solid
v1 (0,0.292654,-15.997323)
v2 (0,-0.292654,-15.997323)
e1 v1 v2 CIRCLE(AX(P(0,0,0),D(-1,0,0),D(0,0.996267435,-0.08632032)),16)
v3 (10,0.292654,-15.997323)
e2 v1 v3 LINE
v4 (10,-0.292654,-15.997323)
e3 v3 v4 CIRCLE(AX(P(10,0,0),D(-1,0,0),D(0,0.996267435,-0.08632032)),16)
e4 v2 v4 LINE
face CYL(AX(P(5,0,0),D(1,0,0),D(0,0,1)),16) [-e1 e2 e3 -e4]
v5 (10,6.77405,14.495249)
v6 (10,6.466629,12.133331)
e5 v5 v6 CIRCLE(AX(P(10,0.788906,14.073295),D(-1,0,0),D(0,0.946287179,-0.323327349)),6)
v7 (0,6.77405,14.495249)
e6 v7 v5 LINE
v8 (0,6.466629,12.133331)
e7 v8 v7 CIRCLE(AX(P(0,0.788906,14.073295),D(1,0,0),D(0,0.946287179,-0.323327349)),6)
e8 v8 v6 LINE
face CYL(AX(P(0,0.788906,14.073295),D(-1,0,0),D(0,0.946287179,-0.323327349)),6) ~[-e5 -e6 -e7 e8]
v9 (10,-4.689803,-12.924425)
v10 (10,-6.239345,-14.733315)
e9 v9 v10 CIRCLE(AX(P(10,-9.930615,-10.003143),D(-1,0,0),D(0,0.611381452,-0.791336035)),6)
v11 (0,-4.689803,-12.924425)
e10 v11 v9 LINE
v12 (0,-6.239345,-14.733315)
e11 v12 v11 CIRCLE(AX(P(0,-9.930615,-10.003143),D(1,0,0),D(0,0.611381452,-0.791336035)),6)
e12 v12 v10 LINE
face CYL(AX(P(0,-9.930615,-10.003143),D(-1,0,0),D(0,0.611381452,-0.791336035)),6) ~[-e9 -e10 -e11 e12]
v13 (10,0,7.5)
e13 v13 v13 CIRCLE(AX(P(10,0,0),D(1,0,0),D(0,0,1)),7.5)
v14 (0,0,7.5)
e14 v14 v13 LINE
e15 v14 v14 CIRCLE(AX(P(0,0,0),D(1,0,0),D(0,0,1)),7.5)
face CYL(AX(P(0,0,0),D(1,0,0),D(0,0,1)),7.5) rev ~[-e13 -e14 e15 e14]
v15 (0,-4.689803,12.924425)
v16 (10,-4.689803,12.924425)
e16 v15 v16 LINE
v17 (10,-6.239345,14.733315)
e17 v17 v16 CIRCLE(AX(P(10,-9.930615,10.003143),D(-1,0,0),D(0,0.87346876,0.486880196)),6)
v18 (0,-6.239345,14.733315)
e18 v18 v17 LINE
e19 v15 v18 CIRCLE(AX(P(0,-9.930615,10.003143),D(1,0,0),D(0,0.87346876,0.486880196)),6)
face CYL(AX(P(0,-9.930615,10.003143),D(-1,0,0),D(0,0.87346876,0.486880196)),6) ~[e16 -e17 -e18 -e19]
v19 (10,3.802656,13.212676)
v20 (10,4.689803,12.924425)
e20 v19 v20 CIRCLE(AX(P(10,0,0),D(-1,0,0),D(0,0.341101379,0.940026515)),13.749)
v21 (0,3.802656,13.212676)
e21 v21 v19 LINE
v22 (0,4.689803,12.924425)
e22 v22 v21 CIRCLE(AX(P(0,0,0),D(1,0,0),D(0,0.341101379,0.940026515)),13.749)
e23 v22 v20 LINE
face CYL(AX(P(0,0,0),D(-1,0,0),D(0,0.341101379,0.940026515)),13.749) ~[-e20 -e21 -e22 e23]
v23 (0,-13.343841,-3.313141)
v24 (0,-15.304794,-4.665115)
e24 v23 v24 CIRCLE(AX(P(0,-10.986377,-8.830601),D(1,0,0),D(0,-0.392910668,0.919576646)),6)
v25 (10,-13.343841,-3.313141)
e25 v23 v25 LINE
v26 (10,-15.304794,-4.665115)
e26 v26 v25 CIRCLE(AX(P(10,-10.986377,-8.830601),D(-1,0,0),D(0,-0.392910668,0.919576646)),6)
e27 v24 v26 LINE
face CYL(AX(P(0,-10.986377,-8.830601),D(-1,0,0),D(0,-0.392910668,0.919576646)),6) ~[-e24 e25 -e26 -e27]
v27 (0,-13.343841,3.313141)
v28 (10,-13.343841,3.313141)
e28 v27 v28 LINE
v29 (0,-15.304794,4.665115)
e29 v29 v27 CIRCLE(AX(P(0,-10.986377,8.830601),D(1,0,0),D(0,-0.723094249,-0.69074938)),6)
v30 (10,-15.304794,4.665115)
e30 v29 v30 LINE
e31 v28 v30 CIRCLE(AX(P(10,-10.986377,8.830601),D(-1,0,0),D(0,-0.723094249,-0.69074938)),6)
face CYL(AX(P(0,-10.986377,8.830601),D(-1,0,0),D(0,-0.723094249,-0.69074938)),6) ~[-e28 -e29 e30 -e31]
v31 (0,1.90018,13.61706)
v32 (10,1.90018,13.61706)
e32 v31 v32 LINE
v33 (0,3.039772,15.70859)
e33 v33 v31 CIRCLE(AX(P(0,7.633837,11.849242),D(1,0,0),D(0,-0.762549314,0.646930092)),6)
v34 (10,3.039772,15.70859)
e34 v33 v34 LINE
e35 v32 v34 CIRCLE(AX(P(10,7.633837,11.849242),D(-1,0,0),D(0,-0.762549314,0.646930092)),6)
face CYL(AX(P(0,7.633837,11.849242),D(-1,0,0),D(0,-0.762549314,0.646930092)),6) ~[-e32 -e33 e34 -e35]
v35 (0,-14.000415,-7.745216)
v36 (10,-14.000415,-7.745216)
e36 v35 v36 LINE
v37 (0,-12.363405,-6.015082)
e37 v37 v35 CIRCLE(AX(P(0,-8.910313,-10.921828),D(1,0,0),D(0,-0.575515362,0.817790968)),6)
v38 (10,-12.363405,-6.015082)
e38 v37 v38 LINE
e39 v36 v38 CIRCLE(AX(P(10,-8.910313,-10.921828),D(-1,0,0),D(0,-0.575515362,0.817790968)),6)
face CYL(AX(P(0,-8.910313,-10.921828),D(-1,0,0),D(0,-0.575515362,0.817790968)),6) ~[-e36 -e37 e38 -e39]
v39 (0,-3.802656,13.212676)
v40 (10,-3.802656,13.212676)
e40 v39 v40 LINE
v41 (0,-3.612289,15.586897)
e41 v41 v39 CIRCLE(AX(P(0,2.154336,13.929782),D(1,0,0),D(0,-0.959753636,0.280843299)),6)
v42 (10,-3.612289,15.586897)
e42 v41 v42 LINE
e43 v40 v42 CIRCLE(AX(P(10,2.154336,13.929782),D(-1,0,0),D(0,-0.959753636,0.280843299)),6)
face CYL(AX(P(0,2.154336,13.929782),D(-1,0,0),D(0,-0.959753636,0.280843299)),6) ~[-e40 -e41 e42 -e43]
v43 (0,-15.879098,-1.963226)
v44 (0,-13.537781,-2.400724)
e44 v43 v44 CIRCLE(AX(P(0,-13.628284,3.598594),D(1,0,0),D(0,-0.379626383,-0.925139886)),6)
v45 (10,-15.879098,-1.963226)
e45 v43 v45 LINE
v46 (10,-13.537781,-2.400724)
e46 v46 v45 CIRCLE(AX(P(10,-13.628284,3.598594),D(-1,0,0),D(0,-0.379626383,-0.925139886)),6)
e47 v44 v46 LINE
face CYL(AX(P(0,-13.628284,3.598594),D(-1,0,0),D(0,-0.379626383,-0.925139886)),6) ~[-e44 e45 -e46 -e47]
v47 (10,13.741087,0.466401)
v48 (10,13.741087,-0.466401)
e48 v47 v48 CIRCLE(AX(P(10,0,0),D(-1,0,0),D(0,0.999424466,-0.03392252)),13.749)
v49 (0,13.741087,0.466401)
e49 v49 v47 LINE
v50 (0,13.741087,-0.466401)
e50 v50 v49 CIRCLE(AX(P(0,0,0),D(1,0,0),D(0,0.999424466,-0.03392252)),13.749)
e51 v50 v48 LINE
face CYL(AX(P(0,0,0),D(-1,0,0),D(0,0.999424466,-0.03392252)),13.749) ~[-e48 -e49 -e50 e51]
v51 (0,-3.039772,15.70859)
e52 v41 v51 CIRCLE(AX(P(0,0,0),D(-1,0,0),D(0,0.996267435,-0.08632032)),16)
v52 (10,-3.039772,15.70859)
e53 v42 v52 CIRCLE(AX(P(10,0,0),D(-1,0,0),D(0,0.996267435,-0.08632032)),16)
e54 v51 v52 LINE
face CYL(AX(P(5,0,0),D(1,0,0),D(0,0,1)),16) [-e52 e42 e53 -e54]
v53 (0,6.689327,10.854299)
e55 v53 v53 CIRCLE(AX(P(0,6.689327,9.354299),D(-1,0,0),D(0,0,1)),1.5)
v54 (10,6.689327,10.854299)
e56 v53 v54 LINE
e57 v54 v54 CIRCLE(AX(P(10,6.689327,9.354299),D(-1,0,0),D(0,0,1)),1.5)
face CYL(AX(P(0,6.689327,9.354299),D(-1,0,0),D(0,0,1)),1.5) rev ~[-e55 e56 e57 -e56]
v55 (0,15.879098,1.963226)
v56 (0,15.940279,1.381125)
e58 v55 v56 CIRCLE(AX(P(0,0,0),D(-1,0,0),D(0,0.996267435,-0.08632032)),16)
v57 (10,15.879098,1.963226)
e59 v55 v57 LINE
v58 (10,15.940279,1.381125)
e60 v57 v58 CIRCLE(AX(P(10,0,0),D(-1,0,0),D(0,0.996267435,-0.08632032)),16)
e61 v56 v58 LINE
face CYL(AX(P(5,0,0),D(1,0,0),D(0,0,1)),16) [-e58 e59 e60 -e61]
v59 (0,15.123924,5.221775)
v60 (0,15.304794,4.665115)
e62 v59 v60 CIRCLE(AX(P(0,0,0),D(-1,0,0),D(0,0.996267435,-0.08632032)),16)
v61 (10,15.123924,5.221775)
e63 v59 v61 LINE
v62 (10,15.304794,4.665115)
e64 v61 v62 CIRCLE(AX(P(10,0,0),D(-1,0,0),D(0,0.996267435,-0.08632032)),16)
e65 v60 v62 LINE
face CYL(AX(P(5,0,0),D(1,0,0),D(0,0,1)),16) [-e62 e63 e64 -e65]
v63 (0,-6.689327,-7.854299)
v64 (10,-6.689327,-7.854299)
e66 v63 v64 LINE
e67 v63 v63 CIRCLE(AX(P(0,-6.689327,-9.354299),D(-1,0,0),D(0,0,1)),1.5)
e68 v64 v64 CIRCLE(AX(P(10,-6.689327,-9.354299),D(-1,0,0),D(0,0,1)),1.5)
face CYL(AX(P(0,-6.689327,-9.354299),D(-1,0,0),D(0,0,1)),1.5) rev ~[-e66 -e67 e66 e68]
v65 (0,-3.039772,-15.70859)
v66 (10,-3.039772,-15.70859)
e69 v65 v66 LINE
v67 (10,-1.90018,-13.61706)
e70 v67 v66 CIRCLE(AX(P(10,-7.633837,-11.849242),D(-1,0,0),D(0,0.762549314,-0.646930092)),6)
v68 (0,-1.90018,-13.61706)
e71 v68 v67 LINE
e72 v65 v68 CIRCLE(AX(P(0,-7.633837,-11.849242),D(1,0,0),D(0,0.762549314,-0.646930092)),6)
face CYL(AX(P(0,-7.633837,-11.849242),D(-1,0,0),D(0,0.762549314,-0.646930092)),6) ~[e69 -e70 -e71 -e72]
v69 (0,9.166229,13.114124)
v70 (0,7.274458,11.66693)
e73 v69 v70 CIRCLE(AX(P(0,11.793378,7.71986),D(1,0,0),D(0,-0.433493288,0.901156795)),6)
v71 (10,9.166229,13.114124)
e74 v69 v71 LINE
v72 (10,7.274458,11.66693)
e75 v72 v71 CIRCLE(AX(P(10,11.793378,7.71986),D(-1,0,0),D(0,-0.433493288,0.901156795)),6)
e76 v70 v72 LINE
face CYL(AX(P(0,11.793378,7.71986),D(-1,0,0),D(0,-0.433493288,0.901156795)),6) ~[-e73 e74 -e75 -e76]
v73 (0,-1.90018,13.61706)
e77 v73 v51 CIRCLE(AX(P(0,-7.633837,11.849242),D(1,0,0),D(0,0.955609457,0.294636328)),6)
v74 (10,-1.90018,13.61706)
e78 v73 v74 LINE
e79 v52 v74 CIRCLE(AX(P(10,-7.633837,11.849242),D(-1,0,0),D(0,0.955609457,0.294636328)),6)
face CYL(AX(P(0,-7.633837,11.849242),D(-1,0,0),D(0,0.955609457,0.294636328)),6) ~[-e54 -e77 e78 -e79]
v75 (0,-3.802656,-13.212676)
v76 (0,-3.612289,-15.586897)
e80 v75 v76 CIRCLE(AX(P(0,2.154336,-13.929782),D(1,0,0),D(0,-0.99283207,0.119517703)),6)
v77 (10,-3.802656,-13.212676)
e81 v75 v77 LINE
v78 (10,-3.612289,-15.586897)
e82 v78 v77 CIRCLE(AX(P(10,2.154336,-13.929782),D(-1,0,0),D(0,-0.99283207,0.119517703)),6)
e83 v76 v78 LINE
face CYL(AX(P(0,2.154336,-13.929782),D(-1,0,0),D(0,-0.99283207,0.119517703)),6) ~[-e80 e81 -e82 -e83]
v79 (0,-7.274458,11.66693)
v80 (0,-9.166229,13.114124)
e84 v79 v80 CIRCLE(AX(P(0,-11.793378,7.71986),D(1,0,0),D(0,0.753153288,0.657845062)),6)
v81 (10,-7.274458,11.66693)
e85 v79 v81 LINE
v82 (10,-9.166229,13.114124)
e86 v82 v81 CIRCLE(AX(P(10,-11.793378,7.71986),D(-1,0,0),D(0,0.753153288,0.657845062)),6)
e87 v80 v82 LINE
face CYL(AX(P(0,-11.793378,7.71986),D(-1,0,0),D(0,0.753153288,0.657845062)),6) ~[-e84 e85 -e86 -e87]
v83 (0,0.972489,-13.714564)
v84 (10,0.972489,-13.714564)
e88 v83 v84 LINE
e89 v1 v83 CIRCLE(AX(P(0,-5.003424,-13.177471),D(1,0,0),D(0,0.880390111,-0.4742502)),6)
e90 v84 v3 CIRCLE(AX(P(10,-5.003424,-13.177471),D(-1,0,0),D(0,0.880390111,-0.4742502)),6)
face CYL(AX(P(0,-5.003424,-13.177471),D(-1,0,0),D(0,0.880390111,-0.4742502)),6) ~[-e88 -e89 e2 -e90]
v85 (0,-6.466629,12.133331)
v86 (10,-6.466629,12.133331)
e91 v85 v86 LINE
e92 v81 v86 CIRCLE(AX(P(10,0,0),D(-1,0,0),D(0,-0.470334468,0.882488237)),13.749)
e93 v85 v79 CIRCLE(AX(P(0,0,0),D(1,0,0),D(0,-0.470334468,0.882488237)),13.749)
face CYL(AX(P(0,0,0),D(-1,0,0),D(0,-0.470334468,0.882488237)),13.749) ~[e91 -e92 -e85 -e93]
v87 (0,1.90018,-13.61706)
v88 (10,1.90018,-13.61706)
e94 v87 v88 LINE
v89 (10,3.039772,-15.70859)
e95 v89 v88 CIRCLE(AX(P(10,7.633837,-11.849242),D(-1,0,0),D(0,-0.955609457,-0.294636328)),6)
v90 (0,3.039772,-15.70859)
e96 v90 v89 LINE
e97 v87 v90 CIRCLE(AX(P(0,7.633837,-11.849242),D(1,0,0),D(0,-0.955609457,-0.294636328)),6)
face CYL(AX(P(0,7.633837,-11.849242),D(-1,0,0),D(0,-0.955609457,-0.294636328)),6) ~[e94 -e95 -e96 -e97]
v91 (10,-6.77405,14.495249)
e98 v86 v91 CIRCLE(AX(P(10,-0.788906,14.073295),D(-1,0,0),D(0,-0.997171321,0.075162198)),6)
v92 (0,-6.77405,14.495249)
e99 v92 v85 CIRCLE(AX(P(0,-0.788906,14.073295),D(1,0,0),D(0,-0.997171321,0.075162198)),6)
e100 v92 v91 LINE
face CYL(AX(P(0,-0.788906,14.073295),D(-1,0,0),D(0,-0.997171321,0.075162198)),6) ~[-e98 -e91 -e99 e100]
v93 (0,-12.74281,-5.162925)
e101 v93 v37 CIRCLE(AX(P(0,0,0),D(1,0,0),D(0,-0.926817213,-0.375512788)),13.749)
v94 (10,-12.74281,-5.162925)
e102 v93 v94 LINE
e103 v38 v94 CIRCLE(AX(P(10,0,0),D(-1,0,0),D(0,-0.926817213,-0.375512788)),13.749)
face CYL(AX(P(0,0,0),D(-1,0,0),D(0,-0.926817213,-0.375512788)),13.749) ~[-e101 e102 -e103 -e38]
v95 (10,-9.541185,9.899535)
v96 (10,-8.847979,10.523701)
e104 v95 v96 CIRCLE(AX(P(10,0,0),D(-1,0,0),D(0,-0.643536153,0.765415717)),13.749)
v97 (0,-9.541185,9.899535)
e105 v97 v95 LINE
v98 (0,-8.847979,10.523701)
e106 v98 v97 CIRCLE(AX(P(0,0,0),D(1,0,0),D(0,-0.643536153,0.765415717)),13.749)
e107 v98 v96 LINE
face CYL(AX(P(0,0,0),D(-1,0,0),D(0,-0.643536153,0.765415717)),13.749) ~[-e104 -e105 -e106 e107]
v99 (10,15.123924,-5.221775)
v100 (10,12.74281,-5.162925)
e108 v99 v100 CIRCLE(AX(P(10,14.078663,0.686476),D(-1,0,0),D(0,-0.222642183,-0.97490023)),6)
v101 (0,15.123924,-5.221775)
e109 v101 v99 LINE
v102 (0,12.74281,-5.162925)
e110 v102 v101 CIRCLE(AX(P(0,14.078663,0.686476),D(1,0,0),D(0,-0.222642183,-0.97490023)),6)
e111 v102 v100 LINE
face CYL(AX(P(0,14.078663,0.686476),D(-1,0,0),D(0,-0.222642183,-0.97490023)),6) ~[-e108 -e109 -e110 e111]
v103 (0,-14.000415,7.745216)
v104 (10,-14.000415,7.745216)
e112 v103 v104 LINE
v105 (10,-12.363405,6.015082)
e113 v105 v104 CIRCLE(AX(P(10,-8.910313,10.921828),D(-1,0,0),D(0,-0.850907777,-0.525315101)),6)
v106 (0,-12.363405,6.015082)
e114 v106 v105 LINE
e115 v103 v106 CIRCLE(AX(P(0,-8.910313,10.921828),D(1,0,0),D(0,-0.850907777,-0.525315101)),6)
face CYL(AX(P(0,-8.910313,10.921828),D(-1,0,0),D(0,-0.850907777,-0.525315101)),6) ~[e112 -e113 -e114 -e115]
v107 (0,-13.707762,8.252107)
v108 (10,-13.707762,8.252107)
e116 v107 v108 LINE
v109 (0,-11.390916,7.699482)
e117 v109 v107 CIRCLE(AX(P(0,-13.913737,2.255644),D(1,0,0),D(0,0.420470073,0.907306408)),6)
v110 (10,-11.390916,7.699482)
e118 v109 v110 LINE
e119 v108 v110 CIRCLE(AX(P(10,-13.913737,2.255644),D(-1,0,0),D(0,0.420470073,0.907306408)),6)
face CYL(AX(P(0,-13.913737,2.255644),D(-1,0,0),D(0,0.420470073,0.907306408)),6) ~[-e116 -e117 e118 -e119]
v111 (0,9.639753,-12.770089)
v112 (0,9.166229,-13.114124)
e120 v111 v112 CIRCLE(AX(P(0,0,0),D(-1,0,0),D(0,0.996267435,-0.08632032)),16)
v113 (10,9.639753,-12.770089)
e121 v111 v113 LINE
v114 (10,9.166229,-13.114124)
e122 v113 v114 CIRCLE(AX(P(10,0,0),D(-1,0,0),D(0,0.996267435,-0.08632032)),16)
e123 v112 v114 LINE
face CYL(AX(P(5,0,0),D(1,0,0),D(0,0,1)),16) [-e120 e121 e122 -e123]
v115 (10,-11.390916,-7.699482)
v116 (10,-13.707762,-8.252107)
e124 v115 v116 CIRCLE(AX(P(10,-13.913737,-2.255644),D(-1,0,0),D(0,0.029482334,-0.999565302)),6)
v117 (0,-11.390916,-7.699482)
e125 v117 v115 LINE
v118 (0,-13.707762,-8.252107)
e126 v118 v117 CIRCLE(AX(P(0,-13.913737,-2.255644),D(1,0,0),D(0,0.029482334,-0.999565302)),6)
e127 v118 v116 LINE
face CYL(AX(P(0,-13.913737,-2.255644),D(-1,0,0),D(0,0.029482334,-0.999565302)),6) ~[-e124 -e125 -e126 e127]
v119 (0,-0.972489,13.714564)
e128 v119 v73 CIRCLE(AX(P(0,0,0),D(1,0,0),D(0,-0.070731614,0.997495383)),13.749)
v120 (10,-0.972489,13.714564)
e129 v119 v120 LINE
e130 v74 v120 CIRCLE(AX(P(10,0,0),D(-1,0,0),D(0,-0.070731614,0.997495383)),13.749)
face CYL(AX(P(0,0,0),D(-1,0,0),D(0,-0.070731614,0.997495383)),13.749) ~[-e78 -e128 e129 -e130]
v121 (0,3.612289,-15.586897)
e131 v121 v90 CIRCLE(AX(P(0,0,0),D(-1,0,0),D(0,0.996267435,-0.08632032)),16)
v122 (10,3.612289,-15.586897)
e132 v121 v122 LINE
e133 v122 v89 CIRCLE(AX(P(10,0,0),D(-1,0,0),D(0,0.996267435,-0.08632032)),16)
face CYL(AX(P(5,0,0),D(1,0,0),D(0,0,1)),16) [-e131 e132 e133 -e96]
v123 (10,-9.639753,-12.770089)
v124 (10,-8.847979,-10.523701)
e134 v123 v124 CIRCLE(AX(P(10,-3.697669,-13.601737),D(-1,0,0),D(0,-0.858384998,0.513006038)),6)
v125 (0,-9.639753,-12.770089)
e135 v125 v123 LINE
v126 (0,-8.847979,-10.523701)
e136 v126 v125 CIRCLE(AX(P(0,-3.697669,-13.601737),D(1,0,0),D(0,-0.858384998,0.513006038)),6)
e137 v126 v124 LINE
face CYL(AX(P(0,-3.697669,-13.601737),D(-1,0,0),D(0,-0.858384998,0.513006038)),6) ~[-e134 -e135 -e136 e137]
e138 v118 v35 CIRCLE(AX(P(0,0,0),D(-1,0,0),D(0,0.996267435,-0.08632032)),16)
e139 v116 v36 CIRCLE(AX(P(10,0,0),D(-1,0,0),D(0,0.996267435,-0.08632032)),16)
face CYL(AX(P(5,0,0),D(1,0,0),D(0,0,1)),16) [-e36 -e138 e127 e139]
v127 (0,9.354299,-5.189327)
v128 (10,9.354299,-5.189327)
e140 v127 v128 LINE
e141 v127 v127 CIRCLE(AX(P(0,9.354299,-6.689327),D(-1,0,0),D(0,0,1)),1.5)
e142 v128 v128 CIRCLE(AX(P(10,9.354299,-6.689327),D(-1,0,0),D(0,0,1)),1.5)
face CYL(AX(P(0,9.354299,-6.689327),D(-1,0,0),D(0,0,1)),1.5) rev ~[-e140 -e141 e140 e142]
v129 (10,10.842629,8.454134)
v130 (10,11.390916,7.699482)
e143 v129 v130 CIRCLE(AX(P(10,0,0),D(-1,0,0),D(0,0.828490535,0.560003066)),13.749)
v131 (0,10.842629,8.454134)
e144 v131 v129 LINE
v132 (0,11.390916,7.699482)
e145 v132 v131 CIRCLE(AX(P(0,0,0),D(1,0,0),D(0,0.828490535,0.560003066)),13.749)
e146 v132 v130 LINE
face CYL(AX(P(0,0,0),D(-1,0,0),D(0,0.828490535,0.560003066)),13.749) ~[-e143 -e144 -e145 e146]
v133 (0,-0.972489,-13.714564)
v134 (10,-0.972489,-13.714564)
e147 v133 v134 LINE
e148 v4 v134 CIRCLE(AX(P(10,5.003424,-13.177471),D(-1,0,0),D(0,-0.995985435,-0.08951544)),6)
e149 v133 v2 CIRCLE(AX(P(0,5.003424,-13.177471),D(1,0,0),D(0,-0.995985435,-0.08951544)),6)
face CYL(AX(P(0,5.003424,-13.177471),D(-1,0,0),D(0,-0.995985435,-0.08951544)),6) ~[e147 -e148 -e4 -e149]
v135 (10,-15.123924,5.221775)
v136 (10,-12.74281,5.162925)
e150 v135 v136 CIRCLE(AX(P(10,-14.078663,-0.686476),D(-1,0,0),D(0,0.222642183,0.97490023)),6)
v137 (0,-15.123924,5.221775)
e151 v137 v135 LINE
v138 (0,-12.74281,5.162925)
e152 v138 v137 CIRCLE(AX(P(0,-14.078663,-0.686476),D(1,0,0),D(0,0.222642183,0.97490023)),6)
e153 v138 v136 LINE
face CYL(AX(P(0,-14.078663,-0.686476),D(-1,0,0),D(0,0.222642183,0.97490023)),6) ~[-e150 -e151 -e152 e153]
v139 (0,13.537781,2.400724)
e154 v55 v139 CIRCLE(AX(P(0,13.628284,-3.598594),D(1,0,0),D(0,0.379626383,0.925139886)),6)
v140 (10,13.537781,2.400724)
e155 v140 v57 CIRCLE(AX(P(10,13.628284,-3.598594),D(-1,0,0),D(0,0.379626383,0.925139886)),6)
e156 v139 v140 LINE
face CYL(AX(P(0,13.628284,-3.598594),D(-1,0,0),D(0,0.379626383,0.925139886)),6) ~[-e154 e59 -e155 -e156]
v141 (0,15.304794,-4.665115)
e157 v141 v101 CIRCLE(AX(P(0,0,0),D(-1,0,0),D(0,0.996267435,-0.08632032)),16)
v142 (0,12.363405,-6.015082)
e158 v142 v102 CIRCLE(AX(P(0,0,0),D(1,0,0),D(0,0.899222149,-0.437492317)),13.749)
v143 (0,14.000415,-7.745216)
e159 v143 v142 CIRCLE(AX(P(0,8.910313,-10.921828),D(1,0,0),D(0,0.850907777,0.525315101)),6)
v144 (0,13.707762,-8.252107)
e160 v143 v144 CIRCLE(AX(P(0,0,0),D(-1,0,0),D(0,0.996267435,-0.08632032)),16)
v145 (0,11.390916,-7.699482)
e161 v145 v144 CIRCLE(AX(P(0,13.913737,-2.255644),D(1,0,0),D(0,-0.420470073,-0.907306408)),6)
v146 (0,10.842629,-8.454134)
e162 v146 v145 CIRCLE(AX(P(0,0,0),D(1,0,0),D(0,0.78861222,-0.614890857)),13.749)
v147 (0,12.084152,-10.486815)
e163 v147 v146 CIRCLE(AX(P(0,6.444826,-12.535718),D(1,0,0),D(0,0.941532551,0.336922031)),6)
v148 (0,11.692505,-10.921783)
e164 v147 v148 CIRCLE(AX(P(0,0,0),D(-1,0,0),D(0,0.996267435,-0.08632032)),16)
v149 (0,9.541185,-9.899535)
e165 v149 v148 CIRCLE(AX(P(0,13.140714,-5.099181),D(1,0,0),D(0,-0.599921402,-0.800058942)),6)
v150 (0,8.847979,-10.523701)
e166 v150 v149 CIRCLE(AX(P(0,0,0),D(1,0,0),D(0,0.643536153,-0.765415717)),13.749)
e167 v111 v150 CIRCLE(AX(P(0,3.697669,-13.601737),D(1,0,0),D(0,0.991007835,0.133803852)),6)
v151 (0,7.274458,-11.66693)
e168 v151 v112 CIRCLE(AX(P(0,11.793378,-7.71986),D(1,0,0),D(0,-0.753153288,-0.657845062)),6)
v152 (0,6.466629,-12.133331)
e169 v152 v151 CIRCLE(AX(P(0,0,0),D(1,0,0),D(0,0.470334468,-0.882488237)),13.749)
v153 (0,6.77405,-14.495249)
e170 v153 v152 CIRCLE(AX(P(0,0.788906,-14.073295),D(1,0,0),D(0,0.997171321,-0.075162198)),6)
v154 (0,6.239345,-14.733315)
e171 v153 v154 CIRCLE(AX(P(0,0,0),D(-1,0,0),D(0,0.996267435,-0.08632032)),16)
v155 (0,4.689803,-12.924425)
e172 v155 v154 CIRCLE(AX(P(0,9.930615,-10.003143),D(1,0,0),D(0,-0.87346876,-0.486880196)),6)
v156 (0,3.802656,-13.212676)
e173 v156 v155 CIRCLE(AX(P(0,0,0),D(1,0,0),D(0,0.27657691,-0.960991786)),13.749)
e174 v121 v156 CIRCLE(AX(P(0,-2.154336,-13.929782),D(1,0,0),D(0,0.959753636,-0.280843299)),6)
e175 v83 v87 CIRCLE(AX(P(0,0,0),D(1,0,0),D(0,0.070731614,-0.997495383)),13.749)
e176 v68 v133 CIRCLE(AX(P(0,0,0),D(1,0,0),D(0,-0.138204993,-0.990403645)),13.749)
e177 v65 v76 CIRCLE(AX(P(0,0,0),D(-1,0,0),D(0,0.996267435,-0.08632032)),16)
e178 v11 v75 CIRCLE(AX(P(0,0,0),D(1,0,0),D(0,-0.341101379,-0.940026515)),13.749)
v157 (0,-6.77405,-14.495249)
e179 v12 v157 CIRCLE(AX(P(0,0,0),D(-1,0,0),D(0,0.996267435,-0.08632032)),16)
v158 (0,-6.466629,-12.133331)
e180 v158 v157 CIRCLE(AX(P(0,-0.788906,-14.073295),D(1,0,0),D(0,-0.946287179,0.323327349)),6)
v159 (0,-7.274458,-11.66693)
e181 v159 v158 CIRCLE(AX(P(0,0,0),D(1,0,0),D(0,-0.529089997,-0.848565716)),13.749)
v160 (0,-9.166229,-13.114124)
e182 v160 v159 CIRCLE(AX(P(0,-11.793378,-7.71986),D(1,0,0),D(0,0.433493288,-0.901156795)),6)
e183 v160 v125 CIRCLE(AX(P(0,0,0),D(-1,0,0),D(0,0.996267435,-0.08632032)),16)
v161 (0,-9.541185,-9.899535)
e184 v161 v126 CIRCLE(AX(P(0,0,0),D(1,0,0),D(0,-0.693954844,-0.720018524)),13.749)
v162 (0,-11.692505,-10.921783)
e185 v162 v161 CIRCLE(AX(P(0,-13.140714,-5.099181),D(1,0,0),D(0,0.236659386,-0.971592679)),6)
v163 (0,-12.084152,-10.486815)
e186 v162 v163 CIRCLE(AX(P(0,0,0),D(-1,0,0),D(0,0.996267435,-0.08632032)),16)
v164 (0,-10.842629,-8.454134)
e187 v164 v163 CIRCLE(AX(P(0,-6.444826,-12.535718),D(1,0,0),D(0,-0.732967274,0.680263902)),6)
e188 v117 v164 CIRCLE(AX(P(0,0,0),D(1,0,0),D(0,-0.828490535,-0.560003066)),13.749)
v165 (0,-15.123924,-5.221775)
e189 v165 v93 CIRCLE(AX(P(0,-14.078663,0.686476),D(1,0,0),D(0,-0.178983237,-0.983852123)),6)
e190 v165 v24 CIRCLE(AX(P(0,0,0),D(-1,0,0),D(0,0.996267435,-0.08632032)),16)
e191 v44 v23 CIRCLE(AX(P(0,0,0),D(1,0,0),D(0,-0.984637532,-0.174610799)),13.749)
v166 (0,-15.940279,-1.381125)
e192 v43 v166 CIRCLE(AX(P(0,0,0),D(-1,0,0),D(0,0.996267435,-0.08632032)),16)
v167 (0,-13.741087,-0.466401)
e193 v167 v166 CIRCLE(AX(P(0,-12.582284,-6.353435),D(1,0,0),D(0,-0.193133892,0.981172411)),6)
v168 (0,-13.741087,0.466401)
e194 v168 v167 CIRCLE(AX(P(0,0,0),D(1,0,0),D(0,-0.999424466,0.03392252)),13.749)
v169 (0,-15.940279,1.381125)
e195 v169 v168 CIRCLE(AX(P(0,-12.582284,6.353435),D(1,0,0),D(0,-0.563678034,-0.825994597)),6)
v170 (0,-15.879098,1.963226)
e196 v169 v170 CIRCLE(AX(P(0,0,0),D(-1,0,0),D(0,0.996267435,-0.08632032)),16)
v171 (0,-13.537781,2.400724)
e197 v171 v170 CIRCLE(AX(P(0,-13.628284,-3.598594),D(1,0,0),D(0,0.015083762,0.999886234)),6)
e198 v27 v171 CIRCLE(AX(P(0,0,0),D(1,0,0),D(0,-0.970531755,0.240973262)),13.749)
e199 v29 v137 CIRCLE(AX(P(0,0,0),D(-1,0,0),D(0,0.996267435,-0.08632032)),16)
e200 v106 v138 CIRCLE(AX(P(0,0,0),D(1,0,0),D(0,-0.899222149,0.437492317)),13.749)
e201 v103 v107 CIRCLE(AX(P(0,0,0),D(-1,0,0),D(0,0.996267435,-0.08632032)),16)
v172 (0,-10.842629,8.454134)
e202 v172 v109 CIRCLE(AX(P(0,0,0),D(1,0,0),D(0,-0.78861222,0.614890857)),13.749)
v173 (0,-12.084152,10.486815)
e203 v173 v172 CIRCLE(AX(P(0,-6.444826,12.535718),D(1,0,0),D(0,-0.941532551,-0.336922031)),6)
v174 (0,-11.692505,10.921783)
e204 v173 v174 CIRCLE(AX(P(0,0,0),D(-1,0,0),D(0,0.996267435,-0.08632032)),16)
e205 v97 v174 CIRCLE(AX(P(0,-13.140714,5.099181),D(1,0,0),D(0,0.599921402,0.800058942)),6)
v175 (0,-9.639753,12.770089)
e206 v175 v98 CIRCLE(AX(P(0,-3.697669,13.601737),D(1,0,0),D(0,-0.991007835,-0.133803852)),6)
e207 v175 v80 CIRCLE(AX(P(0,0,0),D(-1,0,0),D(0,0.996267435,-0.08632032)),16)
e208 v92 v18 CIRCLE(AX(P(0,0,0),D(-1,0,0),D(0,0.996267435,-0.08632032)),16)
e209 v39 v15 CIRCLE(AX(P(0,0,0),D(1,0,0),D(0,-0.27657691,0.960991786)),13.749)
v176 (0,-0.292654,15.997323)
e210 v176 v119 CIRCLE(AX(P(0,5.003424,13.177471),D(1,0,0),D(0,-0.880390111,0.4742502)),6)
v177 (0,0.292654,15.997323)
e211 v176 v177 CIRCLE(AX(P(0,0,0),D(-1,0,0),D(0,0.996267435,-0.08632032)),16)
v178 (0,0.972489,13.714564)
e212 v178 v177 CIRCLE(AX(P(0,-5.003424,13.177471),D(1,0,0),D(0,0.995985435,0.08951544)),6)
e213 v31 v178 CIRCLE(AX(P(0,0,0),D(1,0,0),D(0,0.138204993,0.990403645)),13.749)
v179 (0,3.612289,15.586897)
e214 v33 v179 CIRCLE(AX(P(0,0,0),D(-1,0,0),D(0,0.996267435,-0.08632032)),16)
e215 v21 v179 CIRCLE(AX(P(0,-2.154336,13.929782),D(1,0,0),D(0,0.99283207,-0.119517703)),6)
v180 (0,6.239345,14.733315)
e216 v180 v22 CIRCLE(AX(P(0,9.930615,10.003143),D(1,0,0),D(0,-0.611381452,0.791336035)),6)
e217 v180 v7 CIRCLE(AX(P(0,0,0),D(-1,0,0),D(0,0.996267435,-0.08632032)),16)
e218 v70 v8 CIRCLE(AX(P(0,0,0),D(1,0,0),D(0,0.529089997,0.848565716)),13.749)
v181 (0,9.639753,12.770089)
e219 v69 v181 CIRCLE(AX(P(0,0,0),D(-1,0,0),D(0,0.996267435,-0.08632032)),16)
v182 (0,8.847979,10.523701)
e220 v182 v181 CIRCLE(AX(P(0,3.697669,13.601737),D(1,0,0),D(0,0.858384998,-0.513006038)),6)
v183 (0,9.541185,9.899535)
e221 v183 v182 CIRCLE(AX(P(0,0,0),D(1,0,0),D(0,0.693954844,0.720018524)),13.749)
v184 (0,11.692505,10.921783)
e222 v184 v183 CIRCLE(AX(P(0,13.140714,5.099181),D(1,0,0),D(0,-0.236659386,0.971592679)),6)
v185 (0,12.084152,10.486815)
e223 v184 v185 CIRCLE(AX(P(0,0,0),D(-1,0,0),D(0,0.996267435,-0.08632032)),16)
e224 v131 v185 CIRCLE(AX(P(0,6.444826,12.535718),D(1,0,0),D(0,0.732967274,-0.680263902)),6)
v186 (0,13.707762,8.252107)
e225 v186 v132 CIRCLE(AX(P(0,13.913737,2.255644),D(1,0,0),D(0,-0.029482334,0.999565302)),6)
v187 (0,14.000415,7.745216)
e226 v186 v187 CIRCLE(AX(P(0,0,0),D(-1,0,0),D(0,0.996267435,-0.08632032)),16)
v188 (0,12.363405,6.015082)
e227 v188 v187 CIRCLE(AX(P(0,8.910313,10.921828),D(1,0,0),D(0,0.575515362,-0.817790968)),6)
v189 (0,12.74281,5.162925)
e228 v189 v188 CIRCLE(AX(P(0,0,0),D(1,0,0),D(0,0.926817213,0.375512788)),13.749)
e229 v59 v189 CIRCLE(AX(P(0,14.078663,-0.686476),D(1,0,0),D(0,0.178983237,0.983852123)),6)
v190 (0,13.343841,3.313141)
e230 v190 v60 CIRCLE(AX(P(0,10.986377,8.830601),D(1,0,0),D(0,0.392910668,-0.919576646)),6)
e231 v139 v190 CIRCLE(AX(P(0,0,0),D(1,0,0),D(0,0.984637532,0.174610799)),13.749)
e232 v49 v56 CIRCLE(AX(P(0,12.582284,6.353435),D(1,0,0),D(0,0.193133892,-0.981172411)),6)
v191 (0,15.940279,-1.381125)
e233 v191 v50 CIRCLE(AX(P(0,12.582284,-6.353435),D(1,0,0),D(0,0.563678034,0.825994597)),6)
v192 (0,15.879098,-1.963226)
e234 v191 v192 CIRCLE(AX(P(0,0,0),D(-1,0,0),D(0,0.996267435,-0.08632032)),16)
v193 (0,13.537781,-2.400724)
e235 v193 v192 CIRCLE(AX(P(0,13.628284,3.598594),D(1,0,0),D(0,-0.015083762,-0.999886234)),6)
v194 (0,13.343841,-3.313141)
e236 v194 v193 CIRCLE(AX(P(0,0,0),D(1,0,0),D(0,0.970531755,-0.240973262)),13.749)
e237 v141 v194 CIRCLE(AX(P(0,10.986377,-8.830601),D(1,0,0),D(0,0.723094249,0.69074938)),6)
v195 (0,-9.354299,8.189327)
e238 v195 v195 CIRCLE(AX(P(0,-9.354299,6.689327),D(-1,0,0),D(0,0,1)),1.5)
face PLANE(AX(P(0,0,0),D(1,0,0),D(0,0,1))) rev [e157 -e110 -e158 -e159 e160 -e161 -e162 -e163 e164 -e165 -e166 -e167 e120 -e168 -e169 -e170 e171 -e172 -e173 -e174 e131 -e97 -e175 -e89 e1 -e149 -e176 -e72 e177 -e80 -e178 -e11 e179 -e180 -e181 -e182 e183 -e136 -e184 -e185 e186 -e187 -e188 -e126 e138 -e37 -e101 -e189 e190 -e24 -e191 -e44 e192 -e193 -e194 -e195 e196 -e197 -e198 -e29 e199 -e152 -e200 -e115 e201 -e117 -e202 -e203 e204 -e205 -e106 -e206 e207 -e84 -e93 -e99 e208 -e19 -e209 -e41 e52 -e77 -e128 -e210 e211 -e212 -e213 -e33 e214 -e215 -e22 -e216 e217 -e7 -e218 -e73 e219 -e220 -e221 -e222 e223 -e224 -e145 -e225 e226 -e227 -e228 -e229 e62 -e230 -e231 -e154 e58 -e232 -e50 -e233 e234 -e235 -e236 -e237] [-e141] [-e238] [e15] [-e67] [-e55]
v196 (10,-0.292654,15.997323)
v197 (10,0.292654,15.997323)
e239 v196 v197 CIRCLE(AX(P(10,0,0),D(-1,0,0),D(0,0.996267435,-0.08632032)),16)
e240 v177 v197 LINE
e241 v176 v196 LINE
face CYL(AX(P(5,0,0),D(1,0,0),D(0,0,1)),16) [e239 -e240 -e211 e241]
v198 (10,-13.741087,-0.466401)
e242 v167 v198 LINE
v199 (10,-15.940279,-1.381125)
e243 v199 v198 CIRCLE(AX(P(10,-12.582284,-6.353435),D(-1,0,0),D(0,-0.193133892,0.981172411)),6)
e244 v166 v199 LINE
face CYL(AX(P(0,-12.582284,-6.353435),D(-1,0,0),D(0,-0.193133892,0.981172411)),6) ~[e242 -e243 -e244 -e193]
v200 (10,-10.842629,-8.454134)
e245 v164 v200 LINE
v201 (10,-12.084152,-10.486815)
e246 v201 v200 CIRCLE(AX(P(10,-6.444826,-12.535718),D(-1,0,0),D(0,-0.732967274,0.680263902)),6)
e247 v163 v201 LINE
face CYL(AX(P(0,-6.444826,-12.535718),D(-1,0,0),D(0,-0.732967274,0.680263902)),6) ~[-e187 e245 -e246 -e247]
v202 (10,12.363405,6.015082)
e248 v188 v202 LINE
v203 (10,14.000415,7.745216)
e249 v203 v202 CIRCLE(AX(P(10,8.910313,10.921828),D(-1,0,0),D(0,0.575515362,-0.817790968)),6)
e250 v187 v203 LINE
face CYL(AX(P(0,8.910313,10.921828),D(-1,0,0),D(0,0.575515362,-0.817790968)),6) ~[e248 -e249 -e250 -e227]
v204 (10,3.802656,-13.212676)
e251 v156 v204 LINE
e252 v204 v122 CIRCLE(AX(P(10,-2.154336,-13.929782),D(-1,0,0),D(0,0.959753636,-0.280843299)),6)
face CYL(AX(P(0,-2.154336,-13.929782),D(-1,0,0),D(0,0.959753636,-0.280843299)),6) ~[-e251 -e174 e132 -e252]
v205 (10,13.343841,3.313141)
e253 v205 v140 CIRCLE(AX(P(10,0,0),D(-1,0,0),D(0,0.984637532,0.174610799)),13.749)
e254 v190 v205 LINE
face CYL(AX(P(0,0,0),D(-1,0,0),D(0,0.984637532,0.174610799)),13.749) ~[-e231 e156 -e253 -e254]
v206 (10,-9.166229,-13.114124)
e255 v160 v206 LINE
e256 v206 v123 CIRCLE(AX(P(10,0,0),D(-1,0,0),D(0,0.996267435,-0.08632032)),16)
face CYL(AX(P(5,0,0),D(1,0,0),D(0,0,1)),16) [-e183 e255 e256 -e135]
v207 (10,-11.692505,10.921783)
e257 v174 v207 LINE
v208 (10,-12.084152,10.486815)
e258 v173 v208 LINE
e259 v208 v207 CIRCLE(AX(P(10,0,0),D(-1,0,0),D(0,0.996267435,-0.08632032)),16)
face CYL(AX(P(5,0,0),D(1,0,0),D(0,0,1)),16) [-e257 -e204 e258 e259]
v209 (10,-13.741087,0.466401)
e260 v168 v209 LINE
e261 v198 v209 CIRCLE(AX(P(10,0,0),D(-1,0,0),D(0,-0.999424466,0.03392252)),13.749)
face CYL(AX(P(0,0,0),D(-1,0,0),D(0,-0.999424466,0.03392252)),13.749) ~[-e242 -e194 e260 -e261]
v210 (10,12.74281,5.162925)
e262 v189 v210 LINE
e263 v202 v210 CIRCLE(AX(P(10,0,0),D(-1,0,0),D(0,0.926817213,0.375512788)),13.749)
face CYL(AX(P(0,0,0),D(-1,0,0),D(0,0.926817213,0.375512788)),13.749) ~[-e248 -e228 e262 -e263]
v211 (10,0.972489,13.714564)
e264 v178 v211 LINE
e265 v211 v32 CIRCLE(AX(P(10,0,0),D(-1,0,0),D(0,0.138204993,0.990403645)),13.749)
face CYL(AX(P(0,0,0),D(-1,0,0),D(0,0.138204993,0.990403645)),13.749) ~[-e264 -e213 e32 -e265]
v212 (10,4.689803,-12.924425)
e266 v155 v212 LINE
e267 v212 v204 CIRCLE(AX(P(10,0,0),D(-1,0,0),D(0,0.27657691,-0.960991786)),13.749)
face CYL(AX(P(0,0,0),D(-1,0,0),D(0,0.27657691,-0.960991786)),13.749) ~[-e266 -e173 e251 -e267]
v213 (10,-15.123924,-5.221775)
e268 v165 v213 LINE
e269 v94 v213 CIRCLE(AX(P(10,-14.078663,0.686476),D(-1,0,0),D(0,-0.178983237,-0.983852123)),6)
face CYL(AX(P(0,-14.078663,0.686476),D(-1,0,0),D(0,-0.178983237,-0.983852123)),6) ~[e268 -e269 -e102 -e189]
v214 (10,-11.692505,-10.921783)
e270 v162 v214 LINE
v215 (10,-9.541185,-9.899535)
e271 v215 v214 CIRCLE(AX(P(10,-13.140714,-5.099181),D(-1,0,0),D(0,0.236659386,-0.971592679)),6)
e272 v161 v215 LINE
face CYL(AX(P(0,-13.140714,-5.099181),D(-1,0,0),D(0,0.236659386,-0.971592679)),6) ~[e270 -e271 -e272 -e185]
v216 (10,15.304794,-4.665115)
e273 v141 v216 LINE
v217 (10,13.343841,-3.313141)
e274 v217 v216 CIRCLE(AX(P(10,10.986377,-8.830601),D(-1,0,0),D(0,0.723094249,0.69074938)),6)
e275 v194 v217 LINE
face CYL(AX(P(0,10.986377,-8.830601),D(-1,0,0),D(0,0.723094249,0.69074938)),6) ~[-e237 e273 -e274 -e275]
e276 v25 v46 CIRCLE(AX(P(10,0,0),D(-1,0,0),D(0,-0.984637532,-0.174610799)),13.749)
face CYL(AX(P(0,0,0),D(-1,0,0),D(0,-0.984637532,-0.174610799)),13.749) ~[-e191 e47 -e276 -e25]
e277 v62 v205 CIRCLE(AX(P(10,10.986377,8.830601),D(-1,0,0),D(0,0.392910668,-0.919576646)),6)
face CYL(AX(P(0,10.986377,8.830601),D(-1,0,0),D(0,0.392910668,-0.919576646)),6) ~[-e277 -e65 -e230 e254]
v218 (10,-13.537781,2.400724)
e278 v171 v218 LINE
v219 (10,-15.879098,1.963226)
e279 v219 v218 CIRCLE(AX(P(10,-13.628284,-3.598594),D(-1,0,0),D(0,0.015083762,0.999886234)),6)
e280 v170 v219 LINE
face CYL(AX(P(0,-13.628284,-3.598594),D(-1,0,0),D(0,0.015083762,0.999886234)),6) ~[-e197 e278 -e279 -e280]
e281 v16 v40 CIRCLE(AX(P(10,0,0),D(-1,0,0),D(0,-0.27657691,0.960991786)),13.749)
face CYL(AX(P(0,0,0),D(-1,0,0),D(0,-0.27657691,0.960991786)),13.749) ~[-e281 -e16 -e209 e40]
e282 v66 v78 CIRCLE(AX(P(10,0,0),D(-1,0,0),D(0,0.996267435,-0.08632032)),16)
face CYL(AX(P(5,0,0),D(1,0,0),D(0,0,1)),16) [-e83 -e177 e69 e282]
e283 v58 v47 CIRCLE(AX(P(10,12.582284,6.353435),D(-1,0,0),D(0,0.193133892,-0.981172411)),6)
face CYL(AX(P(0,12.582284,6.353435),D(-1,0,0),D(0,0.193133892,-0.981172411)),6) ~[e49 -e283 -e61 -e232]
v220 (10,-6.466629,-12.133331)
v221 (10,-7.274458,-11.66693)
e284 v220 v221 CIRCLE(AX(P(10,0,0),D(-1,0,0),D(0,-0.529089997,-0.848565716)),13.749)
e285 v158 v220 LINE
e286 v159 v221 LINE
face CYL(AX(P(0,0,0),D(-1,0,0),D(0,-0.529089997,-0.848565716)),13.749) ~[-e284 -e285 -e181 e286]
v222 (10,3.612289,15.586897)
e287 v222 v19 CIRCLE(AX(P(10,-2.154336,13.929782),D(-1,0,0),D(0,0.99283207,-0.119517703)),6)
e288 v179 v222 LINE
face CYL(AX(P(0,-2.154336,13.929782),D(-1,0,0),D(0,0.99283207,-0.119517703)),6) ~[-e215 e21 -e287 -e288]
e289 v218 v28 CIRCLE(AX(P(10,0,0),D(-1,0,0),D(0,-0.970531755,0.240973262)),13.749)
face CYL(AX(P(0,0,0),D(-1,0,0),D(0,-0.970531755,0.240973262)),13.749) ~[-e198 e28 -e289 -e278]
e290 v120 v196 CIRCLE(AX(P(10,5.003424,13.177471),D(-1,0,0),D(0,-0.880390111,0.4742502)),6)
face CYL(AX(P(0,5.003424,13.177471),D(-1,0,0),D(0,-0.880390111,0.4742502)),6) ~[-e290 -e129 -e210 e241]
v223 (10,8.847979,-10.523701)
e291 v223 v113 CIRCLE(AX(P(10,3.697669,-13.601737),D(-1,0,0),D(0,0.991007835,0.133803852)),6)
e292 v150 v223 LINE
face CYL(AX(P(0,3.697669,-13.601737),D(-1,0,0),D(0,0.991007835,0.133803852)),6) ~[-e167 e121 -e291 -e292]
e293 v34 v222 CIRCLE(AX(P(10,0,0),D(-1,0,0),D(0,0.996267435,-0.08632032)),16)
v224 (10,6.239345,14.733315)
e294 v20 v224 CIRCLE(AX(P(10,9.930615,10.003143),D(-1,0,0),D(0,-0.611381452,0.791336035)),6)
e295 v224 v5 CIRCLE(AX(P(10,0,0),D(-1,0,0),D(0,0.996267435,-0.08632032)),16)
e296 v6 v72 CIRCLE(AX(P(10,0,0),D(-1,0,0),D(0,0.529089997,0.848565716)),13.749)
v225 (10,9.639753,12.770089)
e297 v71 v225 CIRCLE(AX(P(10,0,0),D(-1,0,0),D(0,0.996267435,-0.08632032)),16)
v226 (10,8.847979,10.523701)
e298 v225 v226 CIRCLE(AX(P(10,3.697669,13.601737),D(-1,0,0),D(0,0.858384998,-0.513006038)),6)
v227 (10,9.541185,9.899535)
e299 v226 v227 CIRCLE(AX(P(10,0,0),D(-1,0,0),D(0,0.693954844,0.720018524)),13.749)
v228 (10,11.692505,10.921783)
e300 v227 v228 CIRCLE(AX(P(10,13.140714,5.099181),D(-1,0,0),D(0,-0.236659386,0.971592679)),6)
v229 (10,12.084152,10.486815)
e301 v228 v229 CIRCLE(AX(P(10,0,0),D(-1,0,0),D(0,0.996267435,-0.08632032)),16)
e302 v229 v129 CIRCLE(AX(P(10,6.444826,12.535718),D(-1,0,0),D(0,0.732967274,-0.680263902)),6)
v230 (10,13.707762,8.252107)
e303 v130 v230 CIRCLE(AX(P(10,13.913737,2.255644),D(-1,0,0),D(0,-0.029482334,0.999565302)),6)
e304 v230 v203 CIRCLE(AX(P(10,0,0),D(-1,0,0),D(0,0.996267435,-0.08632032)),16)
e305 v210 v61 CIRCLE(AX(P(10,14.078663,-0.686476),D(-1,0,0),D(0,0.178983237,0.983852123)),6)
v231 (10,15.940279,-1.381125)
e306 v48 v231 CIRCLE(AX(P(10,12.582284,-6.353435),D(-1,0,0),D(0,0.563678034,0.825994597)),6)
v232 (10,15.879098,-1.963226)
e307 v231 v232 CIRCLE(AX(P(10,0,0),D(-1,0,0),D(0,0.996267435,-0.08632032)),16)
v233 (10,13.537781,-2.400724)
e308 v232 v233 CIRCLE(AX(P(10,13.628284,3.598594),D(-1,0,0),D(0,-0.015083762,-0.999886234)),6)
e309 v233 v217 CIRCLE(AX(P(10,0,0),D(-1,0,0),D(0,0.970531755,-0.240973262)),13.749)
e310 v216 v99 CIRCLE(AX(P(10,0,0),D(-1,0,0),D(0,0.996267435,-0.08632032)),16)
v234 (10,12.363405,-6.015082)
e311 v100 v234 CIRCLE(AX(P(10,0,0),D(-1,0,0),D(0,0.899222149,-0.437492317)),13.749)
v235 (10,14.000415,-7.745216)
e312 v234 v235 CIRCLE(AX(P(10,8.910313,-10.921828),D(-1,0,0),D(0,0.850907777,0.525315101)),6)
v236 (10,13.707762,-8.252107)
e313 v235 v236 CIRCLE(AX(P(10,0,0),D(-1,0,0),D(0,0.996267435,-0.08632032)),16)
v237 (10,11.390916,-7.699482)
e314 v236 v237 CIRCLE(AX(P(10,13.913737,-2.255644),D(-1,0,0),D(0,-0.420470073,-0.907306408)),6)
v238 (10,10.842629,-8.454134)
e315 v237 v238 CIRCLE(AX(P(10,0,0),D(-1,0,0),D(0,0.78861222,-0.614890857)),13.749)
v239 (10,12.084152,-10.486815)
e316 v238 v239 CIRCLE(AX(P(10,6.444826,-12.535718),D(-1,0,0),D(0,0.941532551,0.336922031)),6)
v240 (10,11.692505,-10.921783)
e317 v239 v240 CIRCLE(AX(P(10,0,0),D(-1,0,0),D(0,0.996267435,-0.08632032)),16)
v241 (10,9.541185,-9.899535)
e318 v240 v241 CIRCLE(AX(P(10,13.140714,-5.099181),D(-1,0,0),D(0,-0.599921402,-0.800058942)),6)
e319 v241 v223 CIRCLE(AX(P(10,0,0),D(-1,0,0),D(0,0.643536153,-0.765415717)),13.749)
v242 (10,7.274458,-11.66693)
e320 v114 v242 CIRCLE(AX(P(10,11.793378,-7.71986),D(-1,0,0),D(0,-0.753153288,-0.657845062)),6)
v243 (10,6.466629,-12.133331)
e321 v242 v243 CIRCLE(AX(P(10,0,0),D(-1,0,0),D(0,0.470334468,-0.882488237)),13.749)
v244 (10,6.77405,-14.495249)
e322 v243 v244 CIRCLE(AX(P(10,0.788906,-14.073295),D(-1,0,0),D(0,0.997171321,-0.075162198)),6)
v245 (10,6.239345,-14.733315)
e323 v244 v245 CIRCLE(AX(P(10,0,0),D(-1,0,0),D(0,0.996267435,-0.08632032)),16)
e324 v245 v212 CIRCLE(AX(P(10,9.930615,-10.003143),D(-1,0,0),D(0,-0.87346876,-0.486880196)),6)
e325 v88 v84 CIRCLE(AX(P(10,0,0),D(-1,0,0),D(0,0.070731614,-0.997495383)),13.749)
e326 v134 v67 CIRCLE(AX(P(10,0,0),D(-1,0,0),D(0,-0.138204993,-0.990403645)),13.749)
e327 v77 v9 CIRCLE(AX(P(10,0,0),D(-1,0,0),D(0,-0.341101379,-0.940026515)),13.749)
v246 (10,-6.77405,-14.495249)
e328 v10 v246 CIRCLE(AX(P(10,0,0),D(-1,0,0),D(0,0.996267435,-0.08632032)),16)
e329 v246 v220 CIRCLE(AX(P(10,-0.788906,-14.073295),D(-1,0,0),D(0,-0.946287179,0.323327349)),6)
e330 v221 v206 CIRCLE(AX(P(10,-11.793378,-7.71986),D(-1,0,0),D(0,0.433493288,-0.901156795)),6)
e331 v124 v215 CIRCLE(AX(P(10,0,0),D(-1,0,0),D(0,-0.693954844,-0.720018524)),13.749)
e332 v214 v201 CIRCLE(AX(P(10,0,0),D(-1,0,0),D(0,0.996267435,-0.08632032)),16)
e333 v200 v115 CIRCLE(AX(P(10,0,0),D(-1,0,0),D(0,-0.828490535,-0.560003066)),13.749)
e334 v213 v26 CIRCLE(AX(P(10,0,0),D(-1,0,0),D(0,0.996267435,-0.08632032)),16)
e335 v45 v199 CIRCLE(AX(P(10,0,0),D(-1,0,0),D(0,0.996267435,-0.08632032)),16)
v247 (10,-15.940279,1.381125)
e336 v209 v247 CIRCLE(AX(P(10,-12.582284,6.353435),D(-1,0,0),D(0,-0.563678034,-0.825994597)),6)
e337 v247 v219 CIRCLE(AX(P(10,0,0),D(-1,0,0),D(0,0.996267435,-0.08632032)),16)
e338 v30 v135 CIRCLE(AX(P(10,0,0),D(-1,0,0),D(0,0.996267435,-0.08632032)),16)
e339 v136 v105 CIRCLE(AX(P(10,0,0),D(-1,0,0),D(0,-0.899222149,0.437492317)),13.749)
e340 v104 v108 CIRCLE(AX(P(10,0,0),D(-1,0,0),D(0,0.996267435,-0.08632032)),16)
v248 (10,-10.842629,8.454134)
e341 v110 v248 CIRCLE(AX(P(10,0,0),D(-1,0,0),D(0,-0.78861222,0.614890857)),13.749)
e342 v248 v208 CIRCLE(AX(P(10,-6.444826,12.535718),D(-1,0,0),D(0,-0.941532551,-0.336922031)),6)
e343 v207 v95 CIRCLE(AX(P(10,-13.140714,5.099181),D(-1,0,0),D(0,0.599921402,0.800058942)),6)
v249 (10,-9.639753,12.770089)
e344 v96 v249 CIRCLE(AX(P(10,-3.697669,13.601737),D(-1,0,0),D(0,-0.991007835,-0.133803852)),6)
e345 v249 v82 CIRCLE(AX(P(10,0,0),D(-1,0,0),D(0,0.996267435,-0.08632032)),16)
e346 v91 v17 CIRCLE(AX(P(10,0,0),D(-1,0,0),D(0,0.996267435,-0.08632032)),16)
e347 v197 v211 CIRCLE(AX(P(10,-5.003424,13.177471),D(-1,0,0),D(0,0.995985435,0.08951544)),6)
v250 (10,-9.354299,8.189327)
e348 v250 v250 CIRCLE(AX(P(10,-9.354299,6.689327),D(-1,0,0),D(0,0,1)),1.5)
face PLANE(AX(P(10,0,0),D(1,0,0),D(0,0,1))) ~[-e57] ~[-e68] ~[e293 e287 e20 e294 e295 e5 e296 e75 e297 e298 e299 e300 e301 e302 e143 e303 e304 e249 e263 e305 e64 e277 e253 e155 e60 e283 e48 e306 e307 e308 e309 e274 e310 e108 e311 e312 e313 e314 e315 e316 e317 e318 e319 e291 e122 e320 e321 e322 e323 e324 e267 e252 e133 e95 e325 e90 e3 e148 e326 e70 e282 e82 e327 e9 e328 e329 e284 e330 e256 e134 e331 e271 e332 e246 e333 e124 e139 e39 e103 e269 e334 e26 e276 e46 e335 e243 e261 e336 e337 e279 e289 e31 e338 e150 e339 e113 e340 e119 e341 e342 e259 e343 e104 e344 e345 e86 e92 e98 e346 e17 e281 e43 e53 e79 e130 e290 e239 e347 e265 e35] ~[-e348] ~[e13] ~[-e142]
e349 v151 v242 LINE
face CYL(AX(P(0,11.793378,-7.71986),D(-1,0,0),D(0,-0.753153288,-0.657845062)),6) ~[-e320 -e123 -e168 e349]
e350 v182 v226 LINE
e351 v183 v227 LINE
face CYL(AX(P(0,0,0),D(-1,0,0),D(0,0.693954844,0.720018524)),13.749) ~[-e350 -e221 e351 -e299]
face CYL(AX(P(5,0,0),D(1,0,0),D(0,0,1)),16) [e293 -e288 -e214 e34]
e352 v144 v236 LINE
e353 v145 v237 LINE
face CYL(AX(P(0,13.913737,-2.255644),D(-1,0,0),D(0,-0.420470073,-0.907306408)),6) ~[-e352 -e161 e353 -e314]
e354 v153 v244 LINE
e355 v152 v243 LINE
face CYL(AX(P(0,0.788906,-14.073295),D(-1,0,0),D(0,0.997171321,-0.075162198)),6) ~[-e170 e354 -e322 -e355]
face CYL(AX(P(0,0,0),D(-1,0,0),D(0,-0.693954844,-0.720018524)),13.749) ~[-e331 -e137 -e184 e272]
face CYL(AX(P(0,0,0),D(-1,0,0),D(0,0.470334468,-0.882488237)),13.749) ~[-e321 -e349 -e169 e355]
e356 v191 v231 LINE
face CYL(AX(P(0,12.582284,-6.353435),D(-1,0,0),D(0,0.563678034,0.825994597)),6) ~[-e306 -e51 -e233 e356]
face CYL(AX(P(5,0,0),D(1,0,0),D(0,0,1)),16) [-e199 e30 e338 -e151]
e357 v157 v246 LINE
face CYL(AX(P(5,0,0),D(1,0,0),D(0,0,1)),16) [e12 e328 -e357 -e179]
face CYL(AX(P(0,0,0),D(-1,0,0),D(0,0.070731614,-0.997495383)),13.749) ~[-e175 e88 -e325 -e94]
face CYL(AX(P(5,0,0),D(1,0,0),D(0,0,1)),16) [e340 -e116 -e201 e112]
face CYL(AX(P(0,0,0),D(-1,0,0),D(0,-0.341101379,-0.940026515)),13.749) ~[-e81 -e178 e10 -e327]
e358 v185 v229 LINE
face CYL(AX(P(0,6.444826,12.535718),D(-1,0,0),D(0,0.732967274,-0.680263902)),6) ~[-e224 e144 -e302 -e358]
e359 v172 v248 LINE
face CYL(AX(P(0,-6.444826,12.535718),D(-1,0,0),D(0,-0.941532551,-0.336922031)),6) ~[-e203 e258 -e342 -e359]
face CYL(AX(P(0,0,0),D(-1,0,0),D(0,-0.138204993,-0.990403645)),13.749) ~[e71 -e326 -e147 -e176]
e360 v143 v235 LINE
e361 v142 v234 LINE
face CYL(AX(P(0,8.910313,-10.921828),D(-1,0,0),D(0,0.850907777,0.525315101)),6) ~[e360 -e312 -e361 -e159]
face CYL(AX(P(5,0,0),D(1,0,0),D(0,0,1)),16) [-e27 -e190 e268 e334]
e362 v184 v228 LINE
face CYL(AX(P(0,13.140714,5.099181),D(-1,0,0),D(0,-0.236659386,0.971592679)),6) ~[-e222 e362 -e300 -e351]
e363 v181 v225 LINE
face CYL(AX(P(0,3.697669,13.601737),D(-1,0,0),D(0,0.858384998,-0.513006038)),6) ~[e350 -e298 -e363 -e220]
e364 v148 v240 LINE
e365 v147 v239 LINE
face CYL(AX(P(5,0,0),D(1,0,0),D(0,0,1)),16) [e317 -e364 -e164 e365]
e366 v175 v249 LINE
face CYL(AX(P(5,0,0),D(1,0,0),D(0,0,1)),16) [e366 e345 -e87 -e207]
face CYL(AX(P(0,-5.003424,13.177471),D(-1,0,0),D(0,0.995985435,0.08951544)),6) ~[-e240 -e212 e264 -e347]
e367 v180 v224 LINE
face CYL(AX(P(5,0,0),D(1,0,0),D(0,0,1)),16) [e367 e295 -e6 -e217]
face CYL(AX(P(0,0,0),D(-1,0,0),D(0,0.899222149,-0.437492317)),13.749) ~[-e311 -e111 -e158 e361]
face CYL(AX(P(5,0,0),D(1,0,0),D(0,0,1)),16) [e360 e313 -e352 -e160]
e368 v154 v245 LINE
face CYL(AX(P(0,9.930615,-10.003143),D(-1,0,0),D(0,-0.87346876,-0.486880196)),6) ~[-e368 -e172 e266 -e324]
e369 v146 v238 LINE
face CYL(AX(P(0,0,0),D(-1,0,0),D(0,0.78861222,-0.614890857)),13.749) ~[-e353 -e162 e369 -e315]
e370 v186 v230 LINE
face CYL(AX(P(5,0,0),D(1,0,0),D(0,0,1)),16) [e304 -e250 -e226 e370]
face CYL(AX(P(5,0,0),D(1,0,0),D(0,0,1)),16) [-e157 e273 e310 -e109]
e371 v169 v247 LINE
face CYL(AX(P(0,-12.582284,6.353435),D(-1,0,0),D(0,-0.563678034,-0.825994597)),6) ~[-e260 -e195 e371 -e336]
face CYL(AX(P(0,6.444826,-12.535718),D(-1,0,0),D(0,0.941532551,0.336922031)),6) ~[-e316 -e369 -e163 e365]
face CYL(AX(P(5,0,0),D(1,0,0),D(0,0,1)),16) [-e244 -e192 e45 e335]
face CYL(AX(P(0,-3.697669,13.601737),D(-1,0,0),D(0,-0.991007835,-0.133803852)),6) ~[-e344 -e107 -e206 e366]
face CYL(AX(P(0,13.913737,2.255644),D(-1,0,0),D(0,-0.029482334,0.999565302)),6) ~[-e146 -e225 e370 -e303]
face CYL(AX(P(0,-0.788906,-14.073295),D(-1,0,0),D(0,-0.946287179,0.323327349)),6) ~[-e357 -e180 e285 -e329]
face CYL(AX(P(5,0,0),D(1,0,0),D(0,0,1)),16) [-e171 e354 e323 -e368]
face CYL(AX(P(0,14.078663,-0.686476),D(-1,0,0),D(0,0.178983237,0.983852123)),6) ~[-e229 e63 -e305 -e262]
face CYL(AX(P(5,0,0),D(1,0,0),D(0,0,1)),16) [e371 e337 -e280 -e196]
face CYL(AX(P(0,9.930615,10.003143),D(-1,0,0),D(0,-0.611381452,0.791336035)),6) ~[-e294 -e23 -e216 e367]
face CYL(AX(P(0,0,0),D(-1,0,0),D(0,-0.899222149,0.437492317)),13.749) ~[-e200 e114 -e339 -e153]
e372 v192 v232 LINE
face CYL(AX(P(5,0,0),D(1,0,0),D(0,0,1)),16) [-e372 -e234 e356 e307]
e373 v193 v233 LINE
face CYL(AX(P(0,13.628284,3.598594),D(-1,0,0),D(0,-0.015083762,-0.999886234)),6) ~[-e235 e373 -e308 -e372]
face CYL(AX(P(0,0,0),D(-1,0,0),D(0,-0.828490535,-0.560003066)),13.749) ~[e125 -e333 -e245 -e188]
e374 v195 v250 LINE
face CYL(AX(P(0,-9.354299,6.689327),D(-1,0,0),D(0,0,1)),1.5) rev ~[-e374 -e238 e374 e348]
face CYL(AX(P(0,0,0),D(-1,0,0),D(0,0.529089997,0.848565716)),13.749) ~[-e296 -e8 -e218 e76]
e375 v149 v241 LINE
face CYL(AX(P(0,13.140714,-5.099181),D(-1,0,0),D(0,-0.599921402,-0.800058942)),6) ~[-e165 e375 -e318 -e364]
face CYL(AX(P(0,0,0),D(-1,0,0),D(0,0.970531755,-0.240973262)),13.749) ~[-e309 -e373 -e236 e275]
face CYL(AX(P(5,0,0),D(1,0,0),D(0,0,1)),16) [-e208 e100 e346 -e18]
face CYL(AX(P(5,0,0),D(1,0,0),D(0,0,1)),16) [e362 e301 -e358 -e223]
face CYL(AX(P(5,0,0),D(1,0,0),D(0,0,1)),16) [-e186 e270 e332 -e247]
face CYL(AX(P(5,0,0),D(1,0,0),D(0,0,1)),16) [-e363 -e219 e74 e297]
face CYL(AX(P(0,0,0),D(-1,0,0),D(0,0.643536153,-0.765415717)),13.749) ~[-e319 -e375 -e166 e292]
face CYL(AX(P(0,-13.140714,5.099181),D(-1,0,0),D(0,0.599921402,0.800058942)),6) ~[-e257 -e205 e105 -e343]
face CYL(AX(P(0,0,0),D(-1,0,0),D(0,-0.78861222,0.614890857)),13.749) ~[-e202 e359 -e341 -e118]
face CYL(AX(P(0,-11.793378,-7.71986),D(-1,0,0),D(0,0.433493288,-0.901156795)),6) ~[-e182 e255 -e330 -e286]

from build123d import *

# Parameters (mm, degrees)
BASPROSKE_W        = 10
BASPROSKE_H        = 16
TOOTHCUT_DEPTH     = 25.738633754
TEETHCUTS_COUNT    = 30
TEETHCUTS_ANGLE    = 348
BORSKE_R           = 7.5
BORE_DEPTH         = 50.0000508
SKETCH1_R          = 1.5
CUT_EXTRUDE1_DEPTH = 25.700050474


with BuildPart() as part:
    # BasProSke → Base-Revolve (revolve)
    with BuildSketch(Plane(origin=(0, 0, 0), x_dir=(1, 0, 0), z_dir=(0, 1, 0)), mode=Mode.PRIVATE) as base_revolve_sk:
        with Locations((5, 8)):
            Rectangle(BASPROSKE_W, BASPROSKE_H)
    revolve(base_revolve_sk.sketch.rotate(Axis((-10, 0, 0), (1, 0, 0)), 180), axis=Axis((-10, 0, 0), (1, 0, 0)))

    # TooCutSke → ToothCut (cut, through all)
    with BuildSketch(Plane(origin=(0, 0, 0), x_dir=(0, 0, -1), z_dir=(1, 0, 0))):
        with BuildLine():
            ThreePointArc((0.466400716, 13.741086979), (0, 13.749), (-0.466400716, 13.741086979))
            ThreePointArc((-0.466400716, 13.741086979), (-0.819142092, 14.899954875), (-1.3974676, 15.964351834))
            ThreePointArc((-1.3974676, 15.964351834), (0, 16.0254), (1.3974676, 15.964351834))
            ThreePointArc((1.3974676, 15.964351834), (0.819142092, 14.899954875), (0.466400716, 13.741086979))
        make_face()
    toothcut = extrude(amount=TOOTHCUT_DEPTH, mode=Mode.SUBTRACT)

    # TeethCuts: ToothCut ×30 about axis
    teethcuts_axis = Axis((-10, 0, 0), (1, 0, 0))
    for i in range(1, TEETHCUTS_COUNT):
        add(toothcut.rotate(teethcuts_axis, i * TEETHCUTS_ANGLE / (TEETHCUTS_COUNT - 1)), mode=Mode.SUBTRACT)

    # BorSke → Bore (cut, symmetric)
    with BuildSketch(Plane(origin=(0, 0, 0), x_dir=(0, 0, -1), z_dir=(1, 0, 0))):
        with Locations(Location((0, 0, 0), (0, 0, 180))):
            Circle(BORSKE_R)
    extrude(amount=BORE_DEPTH, both=True, mode=Mode.SUBTRACT)

    # Sketch1 → Cut-Extrude1 (cut, through all)
    with BuildSketch(Plane.ZY):
        with Locations((6.689327089, -9.354298643)):
            Circle(SKETCH1_R)
        with Locations((9.354298643, 6.689327088)):
            Circle(SKETCH1_R)
        with Locations((-6.689327088, 9.354298643)):
            Circle(SKETCH1_R)
        with Locations((-9.354298643, -6.689327089)):
            Circle(SKETCH1_R)
    extrude(amount=-CUT_EXTRUDE1_DEPTH, mode=Mode.SUBTRACT)


solid = part.part
